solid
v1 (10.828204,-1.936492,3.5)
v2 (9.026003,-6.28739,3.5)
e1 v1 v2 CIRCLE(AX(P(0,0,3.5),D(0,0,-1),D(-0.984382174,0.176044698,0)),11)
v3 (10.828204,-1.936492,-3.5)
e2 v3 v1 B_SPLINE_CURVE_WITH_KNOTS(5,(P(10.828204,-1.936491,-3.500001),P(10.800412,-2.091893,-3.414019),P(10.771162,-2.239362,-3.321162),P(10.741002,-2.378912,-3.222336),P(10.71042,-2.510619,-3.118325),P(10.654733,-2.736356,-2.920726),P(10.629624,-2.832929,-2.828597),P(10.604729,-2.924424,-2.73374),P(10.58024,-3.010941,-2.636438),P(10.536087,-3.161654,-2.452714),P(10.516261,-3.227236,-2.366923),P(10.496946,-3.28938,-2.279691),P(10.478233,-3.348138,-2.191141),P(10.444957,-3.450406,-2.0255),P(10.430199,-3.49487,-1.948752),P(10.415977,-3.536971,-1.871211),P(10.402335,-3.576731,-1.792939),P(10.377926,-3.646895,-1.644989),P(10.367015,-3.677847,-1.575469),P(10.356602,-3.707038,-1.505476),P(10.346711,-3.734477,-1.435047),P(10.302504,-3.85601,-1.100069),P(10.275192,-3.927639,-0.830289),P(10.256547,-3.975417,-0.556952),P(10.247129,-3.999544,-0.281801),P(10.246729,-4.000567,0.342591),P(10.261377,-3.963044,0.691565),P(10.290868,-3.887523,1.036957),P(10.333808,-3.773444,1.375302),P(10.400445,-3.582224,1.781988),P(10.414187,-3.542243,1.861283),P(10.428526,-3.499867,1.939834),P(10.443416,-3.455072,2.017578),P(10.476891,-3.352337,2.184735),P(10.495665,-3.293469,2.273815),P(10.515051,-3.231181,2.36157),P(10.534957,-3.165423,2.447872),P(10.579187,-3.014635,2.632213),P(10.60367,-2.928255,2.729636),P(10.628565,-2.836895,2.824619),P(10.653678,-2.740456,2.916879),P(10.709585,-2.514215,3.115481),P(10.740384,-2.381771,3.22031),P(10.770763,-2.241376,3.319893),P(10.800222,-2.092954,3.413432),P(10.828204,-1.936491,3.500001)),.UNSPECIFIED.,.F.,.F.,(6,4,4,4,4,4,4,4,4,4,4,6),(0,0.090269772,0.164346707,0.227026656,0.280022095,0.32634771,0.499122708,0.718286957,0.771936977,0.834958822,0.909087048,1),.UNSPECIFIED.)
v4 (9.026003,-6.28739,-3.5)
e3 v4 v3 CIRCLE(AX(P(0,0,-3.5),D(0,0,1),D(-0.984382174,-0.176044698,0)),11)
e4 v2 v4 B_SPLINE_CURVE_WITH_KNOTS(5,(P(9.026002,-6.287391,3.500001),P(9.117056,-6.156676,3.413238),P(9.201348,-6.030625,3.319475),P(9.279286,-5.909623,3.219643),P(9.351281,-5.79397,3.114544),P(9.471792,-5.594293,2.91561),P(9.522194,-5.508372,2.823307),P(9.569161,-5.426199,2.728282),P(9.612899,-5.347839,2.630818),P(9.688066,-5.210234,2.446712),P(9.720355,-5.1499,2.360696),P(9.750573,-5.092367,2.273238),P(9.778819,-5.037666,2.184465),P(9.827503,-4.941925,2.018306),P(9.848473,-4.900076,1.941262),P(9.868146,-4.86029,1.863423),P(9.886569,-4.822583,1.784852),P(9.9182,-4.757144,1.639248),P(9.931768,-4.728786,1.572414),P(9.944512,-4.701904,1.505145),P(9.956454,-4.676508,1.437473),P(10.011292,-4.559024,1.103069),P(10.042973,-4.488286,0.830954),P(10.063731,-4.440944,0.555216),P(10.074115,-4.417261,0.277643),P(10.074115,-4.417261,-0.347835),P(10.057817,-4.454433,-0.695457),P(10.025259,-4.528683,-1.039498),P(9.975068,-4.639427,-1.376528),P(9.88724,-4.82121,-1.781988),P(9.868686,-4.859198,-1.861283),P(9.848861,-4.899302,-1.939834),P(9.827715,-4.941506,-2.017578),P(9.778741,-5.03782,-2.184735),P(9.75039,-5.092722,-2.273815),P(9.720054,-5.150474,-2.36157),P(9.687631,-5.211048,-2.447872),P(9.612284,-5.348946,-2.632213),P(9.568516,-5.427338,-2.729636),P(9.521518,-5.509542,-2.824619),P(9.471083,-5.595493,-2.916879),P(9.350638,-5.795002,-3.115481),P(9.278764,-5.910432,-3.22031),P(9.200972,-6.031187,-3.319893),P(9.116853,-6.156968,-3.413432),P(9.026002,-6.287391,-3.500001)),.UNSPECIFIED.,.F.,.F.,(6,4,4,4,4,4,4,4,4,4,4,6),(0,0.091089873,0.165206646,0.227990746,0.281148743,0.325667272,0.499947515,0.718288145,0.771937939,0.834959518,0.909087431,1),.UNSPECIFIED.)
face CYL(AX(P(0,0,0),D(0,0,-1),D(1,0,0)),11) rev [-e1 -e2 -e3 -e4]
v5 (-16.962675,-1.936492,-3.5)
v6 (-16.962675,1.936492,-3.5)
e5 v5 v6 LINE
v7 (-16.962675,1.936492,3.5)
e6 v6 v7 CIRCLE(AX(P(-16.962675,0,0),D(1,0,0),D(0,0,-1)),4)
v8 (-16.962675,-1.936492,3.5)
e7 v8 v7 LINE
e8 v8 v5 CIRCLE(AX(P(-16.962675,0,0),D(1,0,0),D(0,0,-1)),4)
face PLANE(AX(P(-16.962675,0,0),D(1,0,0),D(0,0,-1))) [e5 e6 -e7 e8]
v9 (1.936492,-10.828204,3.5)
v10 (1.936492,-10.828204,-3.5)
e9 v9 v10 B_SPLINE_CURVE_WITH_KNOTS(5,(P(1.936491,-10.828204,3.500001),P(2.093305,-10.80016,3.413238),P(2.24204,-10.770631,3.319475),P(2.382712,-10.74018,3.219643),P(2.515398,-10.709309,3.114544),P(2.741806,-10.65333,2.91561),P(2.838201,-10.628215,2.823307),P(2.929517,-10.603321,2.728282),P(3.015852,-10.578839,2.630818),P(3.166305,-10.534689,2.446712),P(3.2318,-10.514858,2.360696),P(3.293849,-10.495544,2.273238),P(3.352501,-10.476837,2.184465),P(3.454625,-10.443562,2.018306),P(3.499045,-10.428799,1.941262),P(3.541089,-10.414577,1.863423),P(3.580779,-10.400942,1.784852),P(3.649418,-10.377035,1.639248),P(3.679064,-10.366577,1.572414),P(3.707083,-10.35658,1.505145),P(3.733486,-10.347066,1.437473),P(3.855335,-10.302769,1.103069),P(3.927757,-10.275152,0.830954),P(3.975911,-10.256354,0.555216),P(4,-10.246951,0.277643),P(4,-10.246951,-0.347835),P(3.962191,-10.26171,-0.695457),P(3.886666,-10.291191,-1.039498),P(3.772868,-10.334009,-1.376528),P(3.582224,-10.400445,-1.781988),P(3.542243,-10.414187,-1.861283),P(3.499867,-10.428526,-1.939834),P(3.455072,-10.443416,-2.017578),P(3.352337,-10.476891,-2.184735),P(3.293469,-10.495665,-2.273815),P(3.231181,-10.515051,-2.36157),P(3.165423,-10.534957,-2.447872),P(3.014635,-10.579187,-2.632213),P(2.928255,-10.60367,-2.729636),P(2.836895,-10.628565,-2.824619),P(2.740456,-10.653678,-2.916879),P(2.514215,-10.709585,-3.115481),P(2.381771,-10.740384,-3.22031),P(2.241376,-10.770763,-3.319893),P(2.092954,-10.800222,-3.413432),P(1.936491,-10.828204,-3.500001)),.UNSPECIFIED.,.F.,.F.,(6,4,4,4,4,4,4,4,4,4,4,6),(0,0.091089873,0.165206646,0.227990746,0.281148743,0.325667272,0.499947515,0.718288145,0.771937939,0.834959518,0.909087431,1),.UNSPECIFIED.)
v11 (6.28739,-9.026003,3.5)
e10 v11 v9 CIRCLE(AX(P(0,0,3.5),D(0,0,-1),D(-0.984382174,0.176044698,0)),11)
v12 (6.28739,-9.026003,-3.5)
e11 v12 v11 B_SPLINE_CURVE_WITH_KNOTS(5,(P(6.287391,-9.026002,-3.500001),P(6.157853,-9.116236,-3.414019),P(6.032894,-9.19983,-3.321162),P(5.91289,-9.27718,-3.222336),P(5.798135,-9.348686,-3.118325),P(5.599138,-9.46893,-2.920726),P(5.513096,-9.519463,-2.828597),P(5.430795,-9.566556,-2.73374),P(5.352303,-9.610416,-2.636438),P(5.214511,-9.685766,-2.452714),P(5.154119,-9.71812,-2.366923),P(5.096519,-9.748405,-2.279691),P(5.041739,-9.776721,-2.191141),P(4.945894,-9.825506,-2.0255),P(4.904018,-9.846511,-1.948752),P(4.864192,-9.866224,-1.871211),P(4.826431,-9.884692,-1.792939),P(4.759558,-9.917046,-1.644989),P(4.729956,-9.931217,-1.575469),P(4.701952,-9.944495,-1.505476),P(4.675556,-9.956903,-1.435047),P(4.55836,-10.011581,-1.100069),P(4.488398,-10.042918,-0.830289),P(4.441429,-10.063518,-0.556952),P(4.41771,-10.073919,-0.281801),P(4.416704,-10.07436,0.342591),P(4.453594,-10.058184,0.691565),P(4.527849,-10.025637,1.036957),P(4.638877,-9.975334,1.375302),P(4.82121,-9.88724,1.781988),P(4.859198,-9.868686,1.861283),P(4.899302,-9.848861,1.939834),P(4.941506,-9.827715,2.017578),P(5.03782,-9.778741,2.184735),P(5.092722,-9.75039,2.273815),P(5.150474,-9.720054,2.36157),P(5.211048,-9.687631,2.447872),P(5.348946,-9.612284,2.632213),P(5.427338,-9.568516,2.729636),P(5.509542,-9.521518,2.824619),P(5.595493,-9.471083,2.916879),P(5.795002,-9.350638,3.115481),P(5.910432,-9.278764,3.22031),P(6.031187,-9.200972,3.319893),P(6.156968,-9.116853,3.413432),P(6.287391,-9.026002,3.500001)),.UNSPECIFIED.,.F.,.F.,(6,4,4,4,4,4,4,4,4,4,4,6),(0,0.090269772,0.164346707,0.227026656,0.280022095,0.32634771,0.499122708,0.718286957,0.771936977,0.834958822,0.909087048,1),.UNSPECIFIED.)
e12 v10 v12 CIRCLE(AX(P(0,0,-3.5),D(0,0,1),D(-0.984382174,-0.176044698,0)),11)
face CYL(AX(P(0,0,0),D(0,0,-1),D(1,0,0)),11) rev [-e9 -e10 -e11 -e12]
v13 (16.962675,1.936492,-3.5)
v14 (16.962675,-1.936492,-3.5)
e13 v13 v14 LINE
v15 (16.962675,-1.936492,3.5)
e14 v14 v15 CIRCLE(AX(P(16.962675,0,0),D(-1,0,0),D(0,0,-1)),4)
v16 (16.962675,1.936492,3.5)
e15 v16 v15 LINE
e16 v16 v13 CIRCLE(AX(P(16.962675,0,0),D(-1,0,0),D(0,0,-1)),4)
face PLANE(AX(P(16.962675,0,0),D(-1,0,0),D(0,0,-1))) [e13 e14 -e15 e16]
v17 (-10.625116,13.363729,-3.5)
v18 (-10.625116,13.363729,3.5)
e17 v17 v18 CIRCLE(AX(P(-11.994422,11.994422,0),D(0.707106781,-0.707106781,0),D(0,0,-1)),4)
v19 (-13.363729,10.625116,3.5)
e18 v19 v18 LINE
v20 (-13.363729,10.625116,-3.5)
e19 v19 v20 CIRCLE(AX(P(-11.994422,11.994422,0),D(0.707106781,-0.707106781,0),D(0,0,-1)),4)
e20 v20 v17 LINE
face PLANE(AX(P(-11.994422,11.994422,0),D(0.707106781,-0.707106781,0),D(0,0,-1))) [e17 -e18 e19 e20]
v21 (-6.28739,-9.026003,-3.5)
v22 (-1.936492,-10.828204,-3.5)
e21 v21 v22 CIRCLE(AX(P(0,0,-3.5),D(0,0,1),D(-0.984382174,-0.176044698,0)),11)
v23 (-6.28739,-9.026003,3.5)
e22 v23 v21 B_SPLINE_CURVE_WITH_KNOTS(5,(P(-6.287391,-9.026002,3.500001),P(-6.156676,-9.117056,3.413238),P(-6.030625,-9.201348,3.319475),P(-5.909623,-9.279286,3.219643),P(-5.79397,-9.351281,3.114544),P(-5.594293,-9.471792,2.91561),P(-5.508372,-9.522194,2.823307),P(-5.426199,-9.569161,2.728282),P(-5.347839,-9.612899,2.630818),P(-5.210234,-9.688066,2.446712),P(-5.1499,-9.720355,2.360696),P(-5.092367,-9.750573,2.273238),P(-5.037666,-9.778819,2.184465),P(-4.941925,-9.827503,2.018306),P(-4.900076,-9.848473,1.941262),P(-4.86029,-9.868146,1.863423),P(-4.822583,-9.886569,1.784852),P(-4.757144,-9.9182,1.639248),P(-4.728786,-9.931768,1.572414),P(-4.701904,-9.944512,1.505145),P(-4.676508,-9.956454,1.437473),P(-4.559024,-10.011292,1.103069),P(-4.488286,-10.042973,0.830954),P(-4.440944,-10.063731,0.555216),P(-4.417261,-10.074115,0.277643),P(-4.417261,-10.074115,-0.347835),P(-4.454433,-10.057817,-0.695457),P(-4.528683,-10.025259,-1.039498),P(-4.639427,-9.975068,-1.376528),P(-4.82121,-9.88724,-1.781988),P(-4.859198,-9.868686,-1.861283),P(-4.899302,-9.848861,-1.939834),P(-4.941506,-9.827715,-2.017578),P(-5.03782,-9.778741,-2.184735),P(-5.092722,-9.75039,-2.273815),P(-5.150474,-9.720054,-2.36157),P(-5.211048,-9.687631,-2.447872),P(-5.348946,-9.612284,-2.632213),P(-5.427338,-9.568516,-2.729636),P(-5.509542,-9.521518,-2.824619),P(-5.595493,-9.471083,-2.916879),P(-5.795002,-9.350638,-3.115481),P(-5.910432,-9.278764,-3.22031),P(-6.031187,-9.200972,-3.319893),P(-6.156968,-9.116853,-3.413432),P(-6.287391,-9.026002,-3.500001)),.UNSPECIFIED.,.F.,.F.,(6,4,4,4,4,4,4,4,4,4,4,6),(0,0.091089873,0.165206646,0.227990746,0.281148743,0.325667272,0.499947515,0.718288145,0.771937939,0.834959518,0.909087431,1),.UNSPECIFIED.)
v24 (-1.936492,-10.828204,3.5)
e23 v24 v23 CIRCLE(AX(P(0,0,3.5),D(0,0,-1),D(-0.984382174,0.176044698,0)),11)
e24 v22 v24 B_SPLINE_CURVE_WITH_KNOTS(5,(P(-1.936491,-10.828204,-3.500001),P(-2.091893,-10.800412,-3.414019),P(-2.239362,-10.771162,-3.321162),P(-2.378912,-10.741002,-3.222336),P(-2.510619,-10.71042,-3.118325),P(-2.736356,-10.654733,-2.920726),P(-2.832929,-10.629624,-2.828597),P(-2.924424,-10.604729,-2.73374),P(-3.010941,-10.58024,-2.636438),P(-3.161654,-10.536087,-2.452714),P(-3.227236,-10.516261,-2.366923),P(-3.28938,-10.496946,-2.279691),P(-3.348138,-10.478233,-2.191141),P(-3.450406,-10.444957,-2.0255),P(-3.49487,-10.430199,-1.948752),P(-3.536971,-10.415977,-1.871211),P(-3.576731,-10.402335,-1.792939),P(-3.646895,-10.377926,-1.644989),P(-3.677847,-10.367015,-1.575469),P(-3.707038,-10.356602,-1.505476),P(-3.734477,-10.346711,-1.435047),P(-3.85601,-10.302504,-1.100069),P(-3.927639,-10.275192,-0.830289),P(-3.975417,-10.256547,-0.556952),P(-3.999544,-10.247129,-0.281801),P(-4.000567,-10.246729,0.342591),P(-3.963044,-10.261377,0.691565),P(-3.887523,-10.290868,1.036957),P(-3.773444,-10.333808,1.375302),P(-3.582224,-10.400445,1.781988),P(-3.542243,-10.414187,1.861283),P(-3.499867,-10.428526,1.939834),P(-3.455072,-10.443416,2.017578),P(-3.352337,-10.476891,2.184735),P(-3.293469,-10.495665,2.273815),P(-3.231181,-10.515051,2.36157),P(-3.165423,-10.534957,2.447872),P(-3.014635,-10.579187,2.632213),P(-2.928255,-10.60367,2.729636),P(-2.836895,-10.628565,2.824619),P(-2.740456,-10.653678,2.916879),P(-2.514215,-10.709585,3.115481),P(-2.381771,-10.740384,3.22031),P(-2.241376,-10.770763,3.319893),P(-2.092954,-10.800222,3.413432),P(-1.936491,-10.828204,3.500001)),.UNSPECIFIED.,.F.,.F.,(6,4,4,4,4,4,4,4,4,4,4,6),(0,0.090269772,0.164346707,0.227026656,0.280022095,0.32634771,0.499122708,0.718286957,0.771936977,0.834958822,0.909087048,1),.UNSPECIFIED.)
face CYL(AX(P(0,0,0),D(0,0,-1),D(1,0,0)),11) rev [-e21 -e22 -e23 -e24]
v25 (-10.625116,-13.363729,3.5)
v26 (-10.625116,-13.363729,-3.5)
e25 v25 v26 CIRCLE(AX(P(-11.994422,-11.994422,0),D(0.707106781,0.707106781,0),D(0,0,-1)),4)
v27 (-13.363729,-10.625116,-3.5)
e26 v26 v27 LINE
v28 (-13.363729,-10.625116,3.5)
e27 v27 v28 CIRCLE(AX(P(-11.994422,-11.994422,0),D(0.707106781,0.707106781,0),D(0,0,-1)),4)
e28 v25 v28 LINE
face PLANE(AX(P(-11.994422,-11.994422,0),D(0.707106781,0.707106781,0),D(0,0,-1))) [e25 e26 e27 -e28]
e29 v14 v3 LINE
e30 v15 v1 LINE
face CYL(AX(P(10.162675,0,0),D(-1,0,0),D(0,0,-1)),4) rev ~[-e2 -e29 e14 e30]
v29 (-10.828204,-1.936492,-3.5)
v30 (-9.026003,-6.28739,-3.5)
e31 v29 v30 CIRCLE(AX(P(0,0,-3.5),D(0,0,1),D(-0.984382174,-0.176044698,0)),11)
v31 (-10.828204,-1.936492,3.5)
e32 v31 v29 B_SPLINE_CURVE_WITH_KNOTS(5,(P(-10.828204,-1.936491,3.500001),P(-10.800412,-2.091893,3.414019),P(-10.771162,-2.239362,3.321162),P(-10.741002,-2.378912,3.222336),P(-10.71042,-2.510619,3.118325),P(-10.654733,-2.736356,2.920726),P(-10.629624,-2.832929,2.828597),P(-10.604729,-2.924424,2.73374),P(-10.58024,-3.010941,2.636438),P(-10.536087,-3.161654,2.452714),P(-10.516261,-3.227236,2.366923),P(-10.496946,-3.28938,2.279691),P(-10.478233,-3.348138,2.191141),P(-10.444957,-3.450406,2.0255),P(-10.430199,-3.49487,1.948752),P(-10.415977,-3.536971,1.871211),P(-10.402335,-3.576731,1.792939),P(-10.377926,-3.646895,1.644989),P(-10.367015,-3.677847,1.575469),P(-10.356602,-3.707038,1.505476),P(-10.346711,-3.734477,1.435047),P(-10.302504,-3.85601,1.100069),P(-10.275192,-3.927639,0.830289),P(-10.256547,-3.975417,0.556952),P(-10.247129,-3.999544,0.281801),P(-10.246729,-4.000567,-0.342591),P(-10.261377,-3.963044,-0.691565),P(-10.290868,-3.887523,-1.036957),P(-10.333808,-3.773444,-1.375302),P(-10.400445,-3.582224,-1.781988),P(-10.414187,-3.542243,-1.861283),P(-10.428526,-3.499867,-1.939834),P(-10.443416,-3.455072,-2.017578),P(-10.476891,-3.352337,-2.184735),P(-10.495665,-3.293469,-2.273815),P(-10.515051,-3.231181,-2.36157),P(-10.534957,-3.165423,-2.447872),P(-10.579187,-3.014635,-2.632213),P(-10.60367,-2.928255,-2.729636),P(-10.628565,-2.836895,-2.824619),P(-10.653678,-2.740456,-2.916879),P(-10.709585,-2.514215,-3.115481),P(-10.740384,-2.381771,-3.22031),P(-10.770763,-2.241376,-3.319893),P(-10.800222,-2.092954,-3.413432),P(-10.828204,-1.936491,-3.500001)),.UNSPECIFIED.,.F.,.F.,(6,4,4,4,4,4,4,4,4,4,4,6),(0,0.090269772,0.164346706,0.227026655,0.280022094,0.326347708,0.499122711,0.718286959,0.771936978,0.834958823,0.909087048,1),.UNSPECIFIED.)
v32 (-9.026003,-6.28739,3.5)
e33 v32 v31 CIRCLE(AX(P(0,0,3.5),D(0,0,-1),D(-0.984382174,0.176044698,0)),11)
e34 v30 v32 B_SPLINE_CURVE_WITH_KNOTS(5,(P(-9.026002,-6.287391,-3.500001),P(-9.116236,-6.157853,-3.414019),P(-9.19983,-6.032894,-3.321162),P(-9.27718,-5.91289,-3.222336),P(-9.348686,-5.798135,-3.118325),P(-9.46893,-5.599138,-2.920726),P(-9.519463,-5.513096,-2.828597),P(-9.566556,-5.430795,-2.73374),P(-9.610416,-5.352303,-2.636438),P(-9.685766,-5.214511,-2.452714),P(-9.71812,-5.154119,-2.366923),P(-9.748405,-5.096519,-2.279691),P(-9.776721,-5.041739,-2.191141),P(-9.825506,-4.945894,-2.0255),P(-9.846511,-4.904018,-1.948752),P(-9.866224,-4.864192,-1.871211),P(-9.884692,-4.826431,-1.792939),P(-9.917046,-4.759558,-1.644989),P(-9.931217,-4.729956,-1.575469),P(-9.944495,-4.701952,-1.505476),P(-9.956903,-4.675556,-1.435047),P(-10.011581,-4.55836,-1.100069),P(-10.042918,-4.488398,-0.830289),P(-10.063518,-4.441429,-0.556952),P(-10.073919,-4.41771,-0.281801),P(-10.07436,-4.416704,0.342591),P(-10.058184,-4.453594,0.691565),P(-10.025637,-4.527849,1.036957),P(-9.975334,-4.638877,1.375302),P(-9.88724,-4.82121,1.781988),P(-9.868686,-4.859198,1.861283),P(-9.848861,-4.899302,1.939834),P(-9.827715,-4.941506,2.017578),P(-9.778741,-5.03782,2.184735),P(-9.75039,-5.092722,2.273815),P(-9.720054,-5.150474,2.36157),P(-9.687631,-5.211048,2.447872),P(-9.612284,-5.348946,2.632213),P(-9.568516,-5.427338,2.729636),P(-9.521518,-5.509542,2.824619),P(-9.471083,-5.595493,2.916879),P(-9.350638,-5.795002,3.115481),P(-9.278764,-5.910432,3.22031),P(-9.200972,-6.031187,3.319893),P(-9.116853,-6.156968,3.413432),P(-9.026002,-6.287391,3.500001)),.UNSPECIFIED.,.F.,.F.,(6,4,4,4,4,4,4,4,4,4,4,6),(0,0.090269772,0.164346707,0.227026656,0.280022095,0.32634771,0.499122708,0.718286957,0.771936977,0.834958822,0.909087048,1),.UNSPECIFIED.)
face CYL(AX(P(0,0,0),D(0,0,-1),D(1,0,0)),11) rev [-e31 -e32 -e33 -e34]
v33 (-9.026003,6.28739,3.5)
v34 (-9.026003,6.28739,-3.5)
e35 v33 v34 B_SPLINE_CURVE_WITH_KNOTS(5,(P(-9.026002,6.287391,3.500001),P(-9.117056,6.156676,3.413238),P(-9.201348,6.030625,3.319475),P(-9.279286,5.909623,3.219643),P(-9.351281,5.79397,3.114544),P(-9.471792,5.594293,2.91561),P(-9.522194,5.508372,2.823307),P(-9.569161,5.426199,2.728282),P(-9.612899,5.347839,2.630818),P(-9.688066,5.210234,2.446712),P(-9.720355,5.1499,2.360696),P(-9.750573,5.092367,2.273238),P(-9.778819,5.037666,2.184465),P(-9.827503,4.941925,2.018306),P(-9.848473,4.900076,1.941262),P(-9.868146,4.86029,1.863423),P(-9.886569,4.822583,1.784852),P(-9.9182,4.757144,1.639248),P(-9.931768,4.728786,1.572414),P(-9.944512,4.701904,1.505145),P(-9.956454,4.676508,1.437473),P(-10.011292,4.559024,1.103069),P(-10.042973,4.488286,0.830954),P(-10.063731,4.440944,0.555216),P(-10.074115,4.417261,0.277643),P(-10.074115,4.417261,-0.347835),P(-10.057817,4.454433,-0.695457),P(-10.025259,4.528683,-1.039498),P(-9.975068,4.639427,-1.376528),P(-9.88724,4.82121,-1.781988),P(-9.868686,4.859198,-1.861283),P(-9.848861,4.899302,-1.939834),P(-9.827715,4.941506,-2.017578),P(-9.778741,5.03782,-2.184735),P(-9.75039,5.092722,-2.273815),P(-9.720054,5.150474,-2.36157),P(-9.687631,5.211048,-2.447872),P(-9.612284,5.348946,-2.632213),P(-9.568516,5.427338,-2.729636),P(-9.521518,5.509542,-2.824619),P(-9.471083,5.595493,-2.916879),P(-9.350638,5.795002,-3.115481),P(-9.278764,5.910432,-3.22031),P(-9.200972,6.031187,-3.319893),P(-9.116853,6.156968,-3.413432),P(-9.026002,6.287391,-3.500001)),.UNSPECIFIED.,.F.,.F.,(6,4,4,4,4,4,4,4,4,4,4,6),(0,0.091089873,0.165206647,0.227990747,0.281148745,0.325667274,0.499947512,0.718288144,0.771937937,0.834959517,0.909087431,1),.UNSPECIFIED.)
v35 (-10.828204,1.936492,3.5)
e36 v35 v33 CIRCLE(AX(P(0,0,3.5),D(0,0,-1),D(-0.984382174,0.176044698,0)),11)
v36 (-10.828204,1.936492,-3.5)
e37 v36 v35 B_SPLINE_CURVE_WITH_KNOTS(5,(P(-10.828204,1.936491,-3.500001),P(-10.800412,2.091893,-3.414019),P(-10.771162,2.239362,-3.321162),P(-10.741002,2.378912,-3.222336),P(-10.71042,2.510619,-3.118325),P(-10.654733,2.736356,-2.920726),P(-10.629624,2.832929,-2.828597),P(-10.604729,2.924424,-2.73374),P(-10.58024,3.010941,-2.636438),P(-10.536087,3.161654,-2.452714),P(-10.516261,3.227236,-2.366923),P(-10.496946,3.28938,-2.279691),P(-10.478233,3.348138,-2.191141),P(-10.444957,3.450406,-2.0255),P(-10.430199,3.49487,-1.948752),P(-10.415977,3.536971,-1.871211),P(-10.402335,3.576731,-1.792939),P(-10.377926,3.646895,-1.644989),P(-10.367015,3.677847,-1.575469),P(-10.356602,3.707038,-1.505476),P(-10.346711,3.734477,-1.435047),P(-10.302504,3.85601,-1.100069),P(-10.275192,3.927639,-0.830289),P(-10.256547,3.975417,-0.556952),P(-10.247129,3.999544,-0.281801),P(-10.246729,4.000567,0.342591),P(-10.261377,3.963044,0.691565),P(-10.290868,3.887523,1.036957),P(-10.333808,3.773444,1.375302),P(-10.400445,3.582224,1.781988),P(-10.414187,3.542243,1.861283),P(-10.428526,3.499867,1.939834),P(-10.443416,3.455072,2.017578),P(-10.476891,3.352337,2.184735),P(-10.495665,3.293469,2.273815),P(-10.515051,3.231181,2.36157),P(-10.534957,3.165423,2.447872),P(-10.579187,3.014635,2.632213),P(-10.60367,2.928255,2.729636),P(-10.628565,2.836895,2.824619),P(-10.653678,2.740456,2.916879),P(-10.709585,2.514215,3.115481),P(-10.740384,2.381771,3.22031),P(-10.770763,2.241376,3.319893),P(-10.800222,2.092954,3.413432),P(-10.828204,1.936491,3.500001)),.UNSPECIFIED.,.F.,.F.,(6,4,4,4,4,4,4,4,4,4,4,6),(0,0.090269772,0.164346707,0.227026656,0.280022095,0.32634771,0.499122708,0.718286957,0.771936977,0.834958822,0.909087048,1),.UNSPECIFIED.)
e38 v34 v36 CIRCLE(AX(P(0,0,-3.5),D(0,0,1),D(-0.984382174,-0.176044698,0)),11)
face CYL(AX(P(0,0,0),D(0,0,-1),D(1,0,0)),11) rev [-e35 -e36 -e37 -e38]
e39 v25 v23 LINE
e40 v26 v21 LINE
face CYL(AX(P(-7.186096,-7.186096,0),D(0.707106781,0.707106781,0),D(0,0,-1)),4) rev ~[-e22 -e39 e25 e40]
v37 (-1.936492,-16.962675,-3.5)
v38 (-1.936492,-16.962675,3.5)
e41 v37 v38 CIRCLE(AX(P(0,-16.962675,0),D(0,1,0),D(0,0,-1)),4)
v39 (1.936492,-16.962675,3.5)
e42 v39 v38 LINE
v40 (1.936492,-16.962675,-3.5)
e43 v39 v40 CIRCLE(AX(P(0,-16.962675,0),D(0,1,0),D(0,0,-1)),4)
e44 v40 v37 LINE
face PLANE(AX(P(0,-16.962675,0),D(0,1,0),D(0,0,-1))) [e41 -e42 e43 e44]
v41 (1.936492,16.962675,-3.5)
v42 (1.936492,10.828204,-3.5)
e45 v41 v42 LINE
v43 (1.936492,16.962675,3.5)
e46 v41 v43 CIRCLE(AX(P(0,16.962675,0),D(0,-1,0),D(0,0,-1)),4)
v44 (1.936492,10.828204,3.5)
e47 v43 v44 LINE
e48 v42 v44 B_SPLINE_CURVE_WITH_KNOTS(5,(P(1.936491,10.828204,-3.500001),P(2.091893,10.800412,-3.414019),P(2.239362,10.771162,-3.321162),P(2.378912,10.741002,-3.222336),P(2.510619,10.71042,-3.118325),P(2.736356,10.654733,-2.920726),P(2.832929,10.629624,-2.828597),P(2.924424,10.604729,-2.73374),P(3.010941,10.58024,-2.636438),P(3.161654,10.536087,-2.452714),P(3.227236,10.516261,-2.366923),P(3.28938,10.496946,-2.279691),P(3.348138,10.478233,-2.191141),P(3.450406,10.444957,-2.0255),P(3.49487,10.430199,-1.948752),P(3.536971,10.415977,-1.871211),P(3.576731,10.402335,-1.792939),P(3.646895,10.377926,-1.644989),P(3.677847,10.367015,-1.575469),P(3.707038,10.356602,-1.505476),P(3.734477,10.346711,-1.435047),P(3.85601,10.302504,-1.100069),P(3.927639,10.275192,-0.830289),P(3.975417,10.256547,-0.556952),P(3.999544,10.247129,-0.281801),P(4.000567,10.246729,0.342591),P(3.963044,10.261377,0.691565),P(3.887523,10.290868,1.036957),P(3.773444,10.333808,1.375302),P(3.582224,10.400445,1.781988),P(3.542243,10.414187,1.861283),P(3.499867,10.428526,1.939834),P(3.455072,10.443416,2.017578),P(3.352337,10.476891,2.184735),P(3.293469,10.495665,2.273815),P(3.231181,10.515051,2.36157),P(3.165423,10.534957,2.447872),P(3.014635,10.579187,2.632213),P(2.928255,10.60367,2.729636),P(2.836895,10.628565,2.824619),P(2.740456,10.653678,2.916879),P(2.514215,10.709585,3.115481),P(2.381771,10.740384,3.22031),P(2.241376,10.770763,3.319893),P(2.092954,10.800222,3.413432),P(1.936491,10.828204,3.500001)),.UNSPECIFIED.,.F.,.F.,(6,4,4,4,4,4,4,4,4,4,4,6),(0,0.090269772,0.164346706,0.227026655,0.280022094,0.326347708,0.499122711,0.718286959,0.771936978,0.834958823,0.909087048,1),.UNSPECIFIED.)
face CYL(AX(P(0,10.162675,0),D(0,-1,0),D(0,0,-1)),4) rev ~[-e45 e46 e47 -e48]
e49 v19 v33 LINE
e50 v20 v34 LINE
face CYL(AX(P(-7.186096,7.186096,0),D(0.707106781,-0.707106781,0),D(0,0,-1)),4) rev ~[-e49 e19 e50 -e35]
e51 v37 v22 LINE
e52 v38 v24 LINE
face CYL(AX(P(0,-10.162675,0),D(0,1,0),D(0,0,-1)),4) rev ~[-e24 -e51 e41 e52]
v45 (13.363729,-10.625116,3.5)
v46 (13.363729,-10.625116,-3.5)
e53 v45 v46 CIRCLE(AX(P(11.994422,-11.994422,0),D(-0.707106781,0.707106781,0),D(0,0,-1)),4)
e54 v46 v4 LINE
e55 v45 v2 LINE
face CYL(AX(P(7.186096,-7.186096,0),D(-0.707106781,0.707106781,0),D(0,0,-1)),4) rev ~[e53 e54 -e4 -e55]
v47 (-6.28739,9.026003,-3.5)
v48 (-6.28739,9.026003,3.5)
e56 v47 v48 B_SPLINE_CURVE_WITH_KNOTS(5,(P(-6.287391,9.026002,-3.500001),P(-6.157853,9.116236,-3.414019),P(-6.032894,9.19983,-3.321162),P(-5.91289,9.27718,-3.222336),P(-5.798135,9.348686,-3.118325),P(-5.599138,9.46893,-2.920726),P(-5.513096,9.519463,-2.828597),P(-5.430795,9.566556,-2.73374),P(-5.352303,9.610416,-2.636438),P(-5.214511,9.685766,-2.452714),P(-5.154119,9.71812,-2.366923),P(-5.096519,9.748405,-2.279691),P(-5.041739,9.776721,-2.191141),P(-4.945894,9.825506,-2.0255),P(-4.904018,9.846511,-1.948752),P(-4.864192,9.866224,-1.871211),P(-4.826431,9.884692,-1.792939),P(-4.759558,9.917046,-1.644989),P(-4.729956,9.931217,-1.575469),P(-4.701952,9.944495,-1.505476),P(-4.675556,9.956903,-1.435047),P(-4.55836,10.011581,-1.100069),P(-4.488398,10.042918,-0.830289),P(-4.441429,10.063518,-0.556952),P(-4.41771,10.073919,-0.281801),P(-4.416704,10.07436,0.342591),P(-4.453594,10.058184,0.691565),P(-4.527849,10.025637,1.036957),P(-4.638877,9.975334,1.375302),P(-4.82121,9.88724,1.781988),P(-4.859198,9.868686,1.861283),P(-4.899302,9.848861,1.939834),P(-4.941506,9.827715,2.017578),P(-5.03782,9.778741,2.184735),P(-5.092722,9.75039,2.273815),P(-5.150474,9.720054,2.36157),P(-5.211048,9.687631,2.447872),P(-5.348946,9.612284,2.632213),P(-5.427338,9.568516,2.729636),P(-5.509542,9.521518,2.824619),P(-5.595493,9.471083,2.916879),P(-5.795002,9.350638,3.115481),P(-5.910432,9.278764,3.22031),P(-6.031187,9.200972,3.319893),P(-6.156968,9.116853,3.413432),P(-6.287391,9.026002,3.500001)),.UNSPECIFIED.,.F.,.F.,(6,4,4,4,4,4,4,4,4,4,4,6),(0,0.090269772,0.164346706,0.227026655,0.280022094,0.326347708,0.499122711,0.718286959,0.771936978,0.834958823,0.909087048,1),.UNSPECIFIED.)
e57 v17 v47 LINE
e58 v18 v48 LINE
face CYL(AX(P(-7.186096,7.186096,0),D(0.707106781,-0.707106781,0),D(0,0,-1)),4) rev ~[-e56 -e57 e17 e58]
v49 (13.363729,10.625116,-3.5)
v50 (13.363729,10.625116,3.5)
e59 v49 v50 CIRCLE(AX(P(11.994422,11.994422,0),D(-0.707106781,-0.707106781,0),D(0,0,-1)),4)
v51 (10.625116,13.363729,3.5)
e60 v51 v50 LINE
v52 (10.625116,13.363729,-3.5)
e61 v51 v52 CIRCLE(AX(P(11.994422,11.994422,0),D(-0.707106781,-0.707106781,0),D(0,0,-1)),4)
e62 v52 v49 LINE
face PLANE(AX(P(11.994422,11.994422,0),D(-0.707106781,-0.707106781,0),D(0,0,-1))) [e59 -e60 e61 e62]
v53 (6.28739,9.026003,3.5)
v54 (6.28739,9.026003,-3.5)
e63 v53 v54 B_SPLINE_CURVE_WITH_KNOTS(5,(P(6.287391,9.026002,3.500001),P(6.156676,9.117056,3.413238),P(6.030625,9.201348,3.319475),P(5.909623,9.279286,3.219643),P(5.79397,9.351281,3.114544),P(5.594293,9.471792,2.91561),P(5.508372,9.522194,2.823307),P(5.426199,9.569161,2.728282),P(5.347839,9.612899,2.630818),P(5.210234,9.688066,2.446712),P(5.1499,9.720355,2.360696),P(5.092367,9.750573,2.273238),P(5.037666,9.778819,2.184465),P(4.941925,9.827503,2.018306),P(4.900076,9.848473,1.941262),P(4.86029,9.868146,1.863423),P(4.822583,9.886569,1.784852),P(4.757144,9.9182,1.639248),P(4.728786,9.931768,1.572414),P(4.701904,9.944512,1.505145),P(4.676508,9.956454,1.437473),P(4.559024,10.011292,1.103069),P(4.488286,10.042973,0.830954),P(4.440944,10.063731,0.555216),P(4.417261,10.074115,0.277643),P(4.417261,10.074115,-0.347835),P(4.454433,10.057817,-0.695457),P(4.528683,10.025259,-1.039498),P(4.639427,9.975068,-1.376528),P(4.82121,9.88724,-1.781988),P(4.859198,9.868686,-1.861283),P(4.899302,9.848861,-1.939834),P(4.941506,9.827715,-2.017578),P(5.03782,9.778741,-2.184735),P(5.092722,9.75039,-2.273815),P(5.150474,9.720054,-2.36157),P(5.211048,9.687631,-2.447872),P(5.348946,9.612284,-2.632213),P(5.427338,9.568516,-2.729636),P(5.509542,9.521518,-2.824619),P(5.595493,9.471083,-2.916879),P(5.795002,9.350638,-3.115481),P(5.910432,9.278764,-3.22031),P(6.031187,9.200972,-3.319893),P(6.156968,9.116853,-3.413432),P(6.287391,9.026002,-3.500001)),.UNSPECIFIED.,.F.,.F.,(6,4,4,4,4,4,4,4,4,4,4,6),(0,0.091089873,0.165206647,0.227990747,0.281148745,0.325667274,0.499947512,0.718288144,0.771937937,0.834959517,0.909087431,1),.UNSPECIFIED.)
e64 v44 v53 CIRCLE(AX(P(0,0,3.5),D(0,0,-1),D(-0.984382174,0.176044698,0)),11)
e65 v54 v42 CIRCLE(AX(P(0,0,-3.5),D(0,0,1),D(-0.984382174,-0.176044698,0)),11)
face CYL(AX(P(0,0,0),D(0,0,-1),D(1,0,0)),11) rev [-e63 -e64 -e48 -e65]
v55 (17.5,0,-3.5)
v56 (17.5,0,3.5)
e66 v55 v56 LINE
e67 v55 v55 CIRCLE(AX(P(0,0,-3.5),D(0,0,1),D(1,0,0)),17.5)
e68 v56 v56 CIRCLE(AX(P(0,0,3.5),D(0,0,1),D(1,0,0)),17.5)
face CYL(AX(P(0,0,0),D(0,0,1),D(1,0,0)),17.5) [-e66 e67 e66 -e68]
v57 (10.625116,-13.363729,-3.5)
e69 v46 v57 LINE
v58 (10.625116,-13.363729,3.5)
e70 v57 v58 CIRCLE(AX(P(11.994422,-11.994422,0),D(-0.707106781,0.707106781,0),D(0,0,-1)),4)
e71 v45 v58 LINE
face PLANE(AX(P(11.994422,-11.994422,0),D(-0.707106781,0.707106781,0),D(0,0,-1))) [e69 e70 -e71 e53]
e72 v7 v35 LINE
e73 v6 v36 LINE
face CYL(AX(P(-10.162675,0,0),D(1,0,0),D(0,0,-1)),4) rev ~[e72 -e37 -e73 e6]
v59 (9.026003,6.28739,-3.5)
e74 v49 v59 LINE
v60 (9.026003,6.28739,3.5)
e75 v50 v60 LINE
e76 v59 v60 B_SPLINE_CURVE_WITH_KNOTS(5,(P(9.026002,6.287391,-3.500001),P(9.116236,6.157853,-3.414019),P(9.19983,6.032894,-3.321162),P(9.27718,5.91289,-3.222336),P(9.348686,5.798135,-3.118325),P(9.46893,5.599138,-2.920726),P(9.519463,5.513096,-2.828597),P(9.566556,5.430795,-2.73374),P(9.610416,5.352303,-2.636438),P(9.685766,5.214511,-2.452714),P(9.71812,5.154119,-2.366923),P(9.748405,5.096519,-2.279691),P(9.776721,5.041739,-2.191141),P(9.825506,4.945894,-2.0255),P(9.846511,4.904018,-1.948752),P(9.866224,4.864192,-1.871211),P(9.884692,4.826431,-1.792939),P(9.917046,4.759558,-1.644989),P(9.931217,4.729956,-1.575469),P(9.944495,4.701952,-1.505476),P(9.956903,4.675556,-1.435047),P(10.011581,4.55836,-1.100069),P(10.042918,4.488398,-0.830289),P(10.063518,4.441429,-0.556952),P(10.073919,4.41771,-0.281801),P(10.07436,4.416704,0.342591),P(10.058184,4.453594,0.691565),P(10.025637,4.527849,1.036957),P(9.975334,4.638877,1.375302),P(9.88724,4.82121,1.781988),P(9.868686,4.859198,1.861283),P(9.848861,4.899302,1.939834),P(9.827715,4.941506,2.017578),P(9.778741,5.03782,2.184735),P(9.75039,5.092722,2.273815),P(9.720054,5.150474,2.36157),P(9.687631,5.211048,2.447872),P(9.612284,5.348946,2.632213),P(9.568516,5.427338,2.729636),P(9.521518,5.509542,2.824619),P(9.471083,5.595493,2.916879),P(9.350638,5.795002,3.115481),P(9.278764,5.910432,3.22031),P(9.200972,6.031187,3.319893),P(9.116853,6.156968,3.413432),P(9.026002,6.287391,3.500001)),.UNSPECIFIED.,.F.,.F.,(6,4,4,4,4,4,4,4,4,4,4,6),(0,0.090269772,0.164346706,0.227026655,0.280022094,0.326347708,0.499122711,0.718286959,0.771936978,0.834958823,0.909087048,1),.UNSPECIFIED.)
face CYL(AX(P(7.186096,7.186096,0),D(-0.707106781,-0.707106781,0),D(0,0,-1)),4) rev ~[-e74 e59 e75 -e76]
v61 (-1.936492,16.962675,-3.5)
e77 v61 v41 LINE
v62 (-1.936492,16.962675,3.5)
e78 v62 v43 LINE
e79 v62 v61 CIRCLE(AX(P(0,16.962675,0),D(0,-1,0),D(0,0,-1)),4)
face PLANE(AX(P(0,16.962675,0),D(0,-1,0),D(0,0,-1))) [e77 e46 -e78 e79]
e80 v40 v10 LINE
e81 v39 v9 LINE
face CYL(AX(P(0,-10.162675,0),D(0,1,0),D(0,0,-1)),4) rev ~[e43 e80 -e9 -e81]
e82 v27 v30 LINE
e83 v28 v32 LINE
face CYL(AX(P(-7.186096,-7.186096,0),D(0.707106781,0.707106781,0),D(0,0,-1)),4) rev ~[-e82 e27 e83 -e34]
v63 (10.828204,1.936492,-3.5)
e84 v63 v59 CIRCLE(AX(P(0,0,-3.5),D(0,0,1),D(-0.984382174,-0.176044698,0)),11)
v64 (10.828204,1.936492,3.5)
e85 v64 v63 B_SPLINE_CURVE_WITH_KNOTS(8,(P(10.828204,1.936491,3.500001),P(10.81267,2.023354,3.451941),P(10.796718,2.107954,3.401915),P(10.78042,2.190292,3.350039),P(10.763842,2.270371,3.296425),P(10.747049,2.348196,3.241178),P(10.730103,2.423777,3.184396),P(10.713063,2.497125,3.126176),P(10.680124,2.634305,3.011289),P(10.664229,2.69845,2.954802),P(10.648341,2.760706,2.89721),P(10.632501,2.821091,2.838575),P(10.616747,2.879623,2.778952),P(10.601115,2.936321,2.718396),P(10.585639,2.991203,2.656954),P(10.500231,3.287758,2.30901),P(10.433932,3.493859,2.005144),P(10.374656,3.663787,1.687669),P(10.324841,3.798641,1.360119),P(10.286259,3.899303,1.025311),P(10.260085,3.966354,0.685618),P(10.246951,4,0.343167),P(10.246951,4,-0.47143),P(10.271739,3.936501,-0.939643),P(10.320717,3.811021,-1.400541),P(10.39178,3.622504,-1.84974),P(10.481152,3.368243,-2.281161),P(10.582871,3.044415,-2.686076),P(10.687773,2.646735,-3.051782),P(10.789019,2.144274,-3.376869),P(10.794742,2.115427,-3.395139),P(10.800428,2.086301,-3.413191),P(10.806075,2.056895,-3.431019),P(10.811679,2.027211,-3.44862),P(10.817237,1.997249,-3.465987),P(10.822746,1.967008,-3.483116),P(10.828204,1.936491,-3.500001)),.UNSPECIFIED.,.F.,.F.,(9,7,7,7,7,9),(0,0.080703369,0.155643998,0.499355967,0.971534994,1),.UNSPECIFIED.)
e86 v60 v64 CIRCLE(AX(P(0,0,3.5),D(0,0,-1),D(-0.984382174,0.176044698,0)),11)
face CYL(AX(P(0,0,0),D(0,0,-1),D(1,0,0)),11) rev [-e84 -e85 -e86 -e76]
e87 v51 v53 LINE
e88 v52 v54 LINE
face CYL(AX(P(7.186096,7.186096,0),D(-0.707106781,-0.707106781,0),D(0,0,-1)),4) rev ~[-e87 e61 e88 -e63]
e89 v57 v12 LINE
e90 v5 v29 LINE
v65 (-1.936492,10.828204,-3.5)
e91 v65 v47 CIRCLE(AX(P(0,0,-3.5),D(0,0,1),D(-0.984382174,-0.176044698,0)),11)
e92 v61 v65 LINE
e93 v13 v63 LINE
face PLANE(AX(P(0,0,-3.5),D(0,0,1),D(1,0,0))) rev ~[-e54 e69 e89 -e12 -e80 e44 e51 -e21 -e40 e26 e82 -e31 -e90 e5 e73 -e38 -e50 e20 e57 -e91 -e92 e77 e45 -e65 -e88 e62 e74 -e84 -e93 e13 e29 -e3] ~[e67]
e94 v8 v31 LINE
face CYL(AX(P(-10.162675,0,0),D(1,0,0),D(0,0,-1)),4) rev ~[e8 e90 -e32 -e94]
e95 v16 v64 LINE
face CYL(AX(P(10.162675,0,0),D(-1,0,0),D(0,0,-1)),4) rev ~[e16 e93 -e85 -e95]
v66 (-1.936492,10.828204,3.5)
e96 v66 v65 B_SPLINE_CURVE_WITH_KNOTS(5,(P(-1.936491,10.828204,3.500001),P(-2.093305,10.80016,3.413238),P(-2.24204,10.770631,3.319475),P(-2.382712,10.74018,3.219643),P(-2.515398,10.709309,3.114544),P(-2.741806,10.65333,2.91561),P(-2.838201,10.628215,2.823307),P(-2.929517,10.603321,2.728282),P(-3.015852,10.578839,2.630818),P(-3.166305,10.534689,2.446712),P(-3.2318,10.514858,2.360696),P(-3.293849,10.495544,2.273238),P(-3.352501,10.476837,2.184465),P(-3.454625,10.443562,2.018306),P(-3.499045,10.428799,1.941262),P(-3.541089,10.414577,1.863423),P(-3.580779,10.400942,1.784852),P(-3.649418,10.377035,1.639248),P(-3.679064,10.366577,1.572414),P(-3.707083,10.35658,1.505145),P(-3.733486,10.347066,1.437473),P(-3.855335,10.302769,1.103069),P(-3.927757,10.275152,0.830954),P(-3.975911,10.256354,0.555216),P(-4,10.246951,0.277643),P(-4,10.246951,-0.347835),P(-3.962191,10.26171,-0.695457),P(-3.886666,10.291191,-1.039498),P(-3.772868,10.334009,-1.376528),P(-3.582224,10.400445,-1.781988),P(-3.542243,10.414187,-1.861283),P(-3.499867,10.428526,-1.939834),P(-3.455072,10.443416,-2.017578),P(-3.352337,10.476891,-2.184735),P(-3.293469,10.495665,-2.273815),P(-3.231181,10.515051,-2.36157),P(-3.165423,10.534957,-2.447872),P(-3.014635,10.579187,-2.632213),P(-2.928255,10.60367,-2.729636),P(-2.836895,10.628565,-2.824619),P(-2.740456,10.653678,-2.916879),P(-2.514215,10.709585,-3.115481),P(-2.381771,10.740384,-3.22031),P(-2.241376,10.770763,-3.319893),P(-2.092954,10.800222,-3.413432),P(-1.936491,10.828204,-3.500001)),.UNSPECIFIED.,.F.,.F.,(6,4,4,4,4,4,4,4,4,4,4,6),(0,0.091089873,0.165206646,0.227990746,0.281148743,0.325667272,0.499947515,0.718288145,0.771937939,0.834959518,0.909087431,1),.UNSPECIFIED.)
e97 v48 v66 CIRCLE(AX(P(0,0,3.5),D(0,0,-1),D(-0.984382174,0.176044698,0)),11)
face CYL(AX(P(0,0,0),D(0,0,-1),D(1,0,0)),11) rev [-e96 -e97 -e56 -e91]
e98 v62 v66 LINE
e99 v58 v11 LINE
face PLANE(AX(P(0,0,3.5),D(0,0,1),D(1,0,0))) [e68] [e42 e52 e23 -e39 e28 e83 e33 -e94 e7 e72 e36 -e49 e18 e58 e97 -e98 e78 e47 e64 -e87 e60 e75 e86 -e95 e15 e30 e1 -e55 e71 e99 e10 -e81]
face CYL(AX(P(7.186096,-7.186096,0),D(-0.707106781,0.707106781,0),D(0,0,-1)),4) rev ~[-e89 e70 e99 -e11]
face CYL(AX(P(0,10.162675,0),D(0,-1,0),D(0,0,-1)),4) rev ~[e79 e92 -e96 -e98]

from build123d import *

# Parameters (mm, degrees)
SKETCH1_R           = 17.5
SKETCH1_R_2         = 11
BOSS_EXTRUDE1_DEPTH = 3.5
SKETCH4_R           = 4
CUT_EXTRUDE1_DEPTH  = 6.8
CIRPATTERN1_COUNT   = 8


with BuildPart() as part:
    # Sketch1 → Boss-Extrude1 (new, symmetric)
    with BuildSketch(Plane.XY):
        Circle(SKETCH1_R)
        Circle(SKETCH1_R_2, mode=Mode.SUBTRACT)
    extrude(amount=BOSS_EXTRUDE1_DEPTH, both=True)

    # Sketch4 → Cut-Extrude1 (cut)
    with BuildSketch(Plane(origin=(-10.162674858, 0, 0), x_dir=(0, 0, -1), z_dir=(1, 0, 0))):
        Circle(SKETCH4_R)
    cut_extrude1 = extrude(amount=-CUT_EXTRUDE1_DEPTH, mode=Mode.SUBTRACT)

    # CirPattern1: Cut-Extrude1 ×8 about axis
    cirpattern1_axis = Axis((0, 0, 3.5), (0, 0, -1))
    for i in range(1, CIRPATTERN1_COUNT):
        add(cut_extrude1.rotate(cirpattern1_axis, i * 360 / CIRPATTERN1_COUNT), mode=Mode.SUBTRACT)


solid = part.part
